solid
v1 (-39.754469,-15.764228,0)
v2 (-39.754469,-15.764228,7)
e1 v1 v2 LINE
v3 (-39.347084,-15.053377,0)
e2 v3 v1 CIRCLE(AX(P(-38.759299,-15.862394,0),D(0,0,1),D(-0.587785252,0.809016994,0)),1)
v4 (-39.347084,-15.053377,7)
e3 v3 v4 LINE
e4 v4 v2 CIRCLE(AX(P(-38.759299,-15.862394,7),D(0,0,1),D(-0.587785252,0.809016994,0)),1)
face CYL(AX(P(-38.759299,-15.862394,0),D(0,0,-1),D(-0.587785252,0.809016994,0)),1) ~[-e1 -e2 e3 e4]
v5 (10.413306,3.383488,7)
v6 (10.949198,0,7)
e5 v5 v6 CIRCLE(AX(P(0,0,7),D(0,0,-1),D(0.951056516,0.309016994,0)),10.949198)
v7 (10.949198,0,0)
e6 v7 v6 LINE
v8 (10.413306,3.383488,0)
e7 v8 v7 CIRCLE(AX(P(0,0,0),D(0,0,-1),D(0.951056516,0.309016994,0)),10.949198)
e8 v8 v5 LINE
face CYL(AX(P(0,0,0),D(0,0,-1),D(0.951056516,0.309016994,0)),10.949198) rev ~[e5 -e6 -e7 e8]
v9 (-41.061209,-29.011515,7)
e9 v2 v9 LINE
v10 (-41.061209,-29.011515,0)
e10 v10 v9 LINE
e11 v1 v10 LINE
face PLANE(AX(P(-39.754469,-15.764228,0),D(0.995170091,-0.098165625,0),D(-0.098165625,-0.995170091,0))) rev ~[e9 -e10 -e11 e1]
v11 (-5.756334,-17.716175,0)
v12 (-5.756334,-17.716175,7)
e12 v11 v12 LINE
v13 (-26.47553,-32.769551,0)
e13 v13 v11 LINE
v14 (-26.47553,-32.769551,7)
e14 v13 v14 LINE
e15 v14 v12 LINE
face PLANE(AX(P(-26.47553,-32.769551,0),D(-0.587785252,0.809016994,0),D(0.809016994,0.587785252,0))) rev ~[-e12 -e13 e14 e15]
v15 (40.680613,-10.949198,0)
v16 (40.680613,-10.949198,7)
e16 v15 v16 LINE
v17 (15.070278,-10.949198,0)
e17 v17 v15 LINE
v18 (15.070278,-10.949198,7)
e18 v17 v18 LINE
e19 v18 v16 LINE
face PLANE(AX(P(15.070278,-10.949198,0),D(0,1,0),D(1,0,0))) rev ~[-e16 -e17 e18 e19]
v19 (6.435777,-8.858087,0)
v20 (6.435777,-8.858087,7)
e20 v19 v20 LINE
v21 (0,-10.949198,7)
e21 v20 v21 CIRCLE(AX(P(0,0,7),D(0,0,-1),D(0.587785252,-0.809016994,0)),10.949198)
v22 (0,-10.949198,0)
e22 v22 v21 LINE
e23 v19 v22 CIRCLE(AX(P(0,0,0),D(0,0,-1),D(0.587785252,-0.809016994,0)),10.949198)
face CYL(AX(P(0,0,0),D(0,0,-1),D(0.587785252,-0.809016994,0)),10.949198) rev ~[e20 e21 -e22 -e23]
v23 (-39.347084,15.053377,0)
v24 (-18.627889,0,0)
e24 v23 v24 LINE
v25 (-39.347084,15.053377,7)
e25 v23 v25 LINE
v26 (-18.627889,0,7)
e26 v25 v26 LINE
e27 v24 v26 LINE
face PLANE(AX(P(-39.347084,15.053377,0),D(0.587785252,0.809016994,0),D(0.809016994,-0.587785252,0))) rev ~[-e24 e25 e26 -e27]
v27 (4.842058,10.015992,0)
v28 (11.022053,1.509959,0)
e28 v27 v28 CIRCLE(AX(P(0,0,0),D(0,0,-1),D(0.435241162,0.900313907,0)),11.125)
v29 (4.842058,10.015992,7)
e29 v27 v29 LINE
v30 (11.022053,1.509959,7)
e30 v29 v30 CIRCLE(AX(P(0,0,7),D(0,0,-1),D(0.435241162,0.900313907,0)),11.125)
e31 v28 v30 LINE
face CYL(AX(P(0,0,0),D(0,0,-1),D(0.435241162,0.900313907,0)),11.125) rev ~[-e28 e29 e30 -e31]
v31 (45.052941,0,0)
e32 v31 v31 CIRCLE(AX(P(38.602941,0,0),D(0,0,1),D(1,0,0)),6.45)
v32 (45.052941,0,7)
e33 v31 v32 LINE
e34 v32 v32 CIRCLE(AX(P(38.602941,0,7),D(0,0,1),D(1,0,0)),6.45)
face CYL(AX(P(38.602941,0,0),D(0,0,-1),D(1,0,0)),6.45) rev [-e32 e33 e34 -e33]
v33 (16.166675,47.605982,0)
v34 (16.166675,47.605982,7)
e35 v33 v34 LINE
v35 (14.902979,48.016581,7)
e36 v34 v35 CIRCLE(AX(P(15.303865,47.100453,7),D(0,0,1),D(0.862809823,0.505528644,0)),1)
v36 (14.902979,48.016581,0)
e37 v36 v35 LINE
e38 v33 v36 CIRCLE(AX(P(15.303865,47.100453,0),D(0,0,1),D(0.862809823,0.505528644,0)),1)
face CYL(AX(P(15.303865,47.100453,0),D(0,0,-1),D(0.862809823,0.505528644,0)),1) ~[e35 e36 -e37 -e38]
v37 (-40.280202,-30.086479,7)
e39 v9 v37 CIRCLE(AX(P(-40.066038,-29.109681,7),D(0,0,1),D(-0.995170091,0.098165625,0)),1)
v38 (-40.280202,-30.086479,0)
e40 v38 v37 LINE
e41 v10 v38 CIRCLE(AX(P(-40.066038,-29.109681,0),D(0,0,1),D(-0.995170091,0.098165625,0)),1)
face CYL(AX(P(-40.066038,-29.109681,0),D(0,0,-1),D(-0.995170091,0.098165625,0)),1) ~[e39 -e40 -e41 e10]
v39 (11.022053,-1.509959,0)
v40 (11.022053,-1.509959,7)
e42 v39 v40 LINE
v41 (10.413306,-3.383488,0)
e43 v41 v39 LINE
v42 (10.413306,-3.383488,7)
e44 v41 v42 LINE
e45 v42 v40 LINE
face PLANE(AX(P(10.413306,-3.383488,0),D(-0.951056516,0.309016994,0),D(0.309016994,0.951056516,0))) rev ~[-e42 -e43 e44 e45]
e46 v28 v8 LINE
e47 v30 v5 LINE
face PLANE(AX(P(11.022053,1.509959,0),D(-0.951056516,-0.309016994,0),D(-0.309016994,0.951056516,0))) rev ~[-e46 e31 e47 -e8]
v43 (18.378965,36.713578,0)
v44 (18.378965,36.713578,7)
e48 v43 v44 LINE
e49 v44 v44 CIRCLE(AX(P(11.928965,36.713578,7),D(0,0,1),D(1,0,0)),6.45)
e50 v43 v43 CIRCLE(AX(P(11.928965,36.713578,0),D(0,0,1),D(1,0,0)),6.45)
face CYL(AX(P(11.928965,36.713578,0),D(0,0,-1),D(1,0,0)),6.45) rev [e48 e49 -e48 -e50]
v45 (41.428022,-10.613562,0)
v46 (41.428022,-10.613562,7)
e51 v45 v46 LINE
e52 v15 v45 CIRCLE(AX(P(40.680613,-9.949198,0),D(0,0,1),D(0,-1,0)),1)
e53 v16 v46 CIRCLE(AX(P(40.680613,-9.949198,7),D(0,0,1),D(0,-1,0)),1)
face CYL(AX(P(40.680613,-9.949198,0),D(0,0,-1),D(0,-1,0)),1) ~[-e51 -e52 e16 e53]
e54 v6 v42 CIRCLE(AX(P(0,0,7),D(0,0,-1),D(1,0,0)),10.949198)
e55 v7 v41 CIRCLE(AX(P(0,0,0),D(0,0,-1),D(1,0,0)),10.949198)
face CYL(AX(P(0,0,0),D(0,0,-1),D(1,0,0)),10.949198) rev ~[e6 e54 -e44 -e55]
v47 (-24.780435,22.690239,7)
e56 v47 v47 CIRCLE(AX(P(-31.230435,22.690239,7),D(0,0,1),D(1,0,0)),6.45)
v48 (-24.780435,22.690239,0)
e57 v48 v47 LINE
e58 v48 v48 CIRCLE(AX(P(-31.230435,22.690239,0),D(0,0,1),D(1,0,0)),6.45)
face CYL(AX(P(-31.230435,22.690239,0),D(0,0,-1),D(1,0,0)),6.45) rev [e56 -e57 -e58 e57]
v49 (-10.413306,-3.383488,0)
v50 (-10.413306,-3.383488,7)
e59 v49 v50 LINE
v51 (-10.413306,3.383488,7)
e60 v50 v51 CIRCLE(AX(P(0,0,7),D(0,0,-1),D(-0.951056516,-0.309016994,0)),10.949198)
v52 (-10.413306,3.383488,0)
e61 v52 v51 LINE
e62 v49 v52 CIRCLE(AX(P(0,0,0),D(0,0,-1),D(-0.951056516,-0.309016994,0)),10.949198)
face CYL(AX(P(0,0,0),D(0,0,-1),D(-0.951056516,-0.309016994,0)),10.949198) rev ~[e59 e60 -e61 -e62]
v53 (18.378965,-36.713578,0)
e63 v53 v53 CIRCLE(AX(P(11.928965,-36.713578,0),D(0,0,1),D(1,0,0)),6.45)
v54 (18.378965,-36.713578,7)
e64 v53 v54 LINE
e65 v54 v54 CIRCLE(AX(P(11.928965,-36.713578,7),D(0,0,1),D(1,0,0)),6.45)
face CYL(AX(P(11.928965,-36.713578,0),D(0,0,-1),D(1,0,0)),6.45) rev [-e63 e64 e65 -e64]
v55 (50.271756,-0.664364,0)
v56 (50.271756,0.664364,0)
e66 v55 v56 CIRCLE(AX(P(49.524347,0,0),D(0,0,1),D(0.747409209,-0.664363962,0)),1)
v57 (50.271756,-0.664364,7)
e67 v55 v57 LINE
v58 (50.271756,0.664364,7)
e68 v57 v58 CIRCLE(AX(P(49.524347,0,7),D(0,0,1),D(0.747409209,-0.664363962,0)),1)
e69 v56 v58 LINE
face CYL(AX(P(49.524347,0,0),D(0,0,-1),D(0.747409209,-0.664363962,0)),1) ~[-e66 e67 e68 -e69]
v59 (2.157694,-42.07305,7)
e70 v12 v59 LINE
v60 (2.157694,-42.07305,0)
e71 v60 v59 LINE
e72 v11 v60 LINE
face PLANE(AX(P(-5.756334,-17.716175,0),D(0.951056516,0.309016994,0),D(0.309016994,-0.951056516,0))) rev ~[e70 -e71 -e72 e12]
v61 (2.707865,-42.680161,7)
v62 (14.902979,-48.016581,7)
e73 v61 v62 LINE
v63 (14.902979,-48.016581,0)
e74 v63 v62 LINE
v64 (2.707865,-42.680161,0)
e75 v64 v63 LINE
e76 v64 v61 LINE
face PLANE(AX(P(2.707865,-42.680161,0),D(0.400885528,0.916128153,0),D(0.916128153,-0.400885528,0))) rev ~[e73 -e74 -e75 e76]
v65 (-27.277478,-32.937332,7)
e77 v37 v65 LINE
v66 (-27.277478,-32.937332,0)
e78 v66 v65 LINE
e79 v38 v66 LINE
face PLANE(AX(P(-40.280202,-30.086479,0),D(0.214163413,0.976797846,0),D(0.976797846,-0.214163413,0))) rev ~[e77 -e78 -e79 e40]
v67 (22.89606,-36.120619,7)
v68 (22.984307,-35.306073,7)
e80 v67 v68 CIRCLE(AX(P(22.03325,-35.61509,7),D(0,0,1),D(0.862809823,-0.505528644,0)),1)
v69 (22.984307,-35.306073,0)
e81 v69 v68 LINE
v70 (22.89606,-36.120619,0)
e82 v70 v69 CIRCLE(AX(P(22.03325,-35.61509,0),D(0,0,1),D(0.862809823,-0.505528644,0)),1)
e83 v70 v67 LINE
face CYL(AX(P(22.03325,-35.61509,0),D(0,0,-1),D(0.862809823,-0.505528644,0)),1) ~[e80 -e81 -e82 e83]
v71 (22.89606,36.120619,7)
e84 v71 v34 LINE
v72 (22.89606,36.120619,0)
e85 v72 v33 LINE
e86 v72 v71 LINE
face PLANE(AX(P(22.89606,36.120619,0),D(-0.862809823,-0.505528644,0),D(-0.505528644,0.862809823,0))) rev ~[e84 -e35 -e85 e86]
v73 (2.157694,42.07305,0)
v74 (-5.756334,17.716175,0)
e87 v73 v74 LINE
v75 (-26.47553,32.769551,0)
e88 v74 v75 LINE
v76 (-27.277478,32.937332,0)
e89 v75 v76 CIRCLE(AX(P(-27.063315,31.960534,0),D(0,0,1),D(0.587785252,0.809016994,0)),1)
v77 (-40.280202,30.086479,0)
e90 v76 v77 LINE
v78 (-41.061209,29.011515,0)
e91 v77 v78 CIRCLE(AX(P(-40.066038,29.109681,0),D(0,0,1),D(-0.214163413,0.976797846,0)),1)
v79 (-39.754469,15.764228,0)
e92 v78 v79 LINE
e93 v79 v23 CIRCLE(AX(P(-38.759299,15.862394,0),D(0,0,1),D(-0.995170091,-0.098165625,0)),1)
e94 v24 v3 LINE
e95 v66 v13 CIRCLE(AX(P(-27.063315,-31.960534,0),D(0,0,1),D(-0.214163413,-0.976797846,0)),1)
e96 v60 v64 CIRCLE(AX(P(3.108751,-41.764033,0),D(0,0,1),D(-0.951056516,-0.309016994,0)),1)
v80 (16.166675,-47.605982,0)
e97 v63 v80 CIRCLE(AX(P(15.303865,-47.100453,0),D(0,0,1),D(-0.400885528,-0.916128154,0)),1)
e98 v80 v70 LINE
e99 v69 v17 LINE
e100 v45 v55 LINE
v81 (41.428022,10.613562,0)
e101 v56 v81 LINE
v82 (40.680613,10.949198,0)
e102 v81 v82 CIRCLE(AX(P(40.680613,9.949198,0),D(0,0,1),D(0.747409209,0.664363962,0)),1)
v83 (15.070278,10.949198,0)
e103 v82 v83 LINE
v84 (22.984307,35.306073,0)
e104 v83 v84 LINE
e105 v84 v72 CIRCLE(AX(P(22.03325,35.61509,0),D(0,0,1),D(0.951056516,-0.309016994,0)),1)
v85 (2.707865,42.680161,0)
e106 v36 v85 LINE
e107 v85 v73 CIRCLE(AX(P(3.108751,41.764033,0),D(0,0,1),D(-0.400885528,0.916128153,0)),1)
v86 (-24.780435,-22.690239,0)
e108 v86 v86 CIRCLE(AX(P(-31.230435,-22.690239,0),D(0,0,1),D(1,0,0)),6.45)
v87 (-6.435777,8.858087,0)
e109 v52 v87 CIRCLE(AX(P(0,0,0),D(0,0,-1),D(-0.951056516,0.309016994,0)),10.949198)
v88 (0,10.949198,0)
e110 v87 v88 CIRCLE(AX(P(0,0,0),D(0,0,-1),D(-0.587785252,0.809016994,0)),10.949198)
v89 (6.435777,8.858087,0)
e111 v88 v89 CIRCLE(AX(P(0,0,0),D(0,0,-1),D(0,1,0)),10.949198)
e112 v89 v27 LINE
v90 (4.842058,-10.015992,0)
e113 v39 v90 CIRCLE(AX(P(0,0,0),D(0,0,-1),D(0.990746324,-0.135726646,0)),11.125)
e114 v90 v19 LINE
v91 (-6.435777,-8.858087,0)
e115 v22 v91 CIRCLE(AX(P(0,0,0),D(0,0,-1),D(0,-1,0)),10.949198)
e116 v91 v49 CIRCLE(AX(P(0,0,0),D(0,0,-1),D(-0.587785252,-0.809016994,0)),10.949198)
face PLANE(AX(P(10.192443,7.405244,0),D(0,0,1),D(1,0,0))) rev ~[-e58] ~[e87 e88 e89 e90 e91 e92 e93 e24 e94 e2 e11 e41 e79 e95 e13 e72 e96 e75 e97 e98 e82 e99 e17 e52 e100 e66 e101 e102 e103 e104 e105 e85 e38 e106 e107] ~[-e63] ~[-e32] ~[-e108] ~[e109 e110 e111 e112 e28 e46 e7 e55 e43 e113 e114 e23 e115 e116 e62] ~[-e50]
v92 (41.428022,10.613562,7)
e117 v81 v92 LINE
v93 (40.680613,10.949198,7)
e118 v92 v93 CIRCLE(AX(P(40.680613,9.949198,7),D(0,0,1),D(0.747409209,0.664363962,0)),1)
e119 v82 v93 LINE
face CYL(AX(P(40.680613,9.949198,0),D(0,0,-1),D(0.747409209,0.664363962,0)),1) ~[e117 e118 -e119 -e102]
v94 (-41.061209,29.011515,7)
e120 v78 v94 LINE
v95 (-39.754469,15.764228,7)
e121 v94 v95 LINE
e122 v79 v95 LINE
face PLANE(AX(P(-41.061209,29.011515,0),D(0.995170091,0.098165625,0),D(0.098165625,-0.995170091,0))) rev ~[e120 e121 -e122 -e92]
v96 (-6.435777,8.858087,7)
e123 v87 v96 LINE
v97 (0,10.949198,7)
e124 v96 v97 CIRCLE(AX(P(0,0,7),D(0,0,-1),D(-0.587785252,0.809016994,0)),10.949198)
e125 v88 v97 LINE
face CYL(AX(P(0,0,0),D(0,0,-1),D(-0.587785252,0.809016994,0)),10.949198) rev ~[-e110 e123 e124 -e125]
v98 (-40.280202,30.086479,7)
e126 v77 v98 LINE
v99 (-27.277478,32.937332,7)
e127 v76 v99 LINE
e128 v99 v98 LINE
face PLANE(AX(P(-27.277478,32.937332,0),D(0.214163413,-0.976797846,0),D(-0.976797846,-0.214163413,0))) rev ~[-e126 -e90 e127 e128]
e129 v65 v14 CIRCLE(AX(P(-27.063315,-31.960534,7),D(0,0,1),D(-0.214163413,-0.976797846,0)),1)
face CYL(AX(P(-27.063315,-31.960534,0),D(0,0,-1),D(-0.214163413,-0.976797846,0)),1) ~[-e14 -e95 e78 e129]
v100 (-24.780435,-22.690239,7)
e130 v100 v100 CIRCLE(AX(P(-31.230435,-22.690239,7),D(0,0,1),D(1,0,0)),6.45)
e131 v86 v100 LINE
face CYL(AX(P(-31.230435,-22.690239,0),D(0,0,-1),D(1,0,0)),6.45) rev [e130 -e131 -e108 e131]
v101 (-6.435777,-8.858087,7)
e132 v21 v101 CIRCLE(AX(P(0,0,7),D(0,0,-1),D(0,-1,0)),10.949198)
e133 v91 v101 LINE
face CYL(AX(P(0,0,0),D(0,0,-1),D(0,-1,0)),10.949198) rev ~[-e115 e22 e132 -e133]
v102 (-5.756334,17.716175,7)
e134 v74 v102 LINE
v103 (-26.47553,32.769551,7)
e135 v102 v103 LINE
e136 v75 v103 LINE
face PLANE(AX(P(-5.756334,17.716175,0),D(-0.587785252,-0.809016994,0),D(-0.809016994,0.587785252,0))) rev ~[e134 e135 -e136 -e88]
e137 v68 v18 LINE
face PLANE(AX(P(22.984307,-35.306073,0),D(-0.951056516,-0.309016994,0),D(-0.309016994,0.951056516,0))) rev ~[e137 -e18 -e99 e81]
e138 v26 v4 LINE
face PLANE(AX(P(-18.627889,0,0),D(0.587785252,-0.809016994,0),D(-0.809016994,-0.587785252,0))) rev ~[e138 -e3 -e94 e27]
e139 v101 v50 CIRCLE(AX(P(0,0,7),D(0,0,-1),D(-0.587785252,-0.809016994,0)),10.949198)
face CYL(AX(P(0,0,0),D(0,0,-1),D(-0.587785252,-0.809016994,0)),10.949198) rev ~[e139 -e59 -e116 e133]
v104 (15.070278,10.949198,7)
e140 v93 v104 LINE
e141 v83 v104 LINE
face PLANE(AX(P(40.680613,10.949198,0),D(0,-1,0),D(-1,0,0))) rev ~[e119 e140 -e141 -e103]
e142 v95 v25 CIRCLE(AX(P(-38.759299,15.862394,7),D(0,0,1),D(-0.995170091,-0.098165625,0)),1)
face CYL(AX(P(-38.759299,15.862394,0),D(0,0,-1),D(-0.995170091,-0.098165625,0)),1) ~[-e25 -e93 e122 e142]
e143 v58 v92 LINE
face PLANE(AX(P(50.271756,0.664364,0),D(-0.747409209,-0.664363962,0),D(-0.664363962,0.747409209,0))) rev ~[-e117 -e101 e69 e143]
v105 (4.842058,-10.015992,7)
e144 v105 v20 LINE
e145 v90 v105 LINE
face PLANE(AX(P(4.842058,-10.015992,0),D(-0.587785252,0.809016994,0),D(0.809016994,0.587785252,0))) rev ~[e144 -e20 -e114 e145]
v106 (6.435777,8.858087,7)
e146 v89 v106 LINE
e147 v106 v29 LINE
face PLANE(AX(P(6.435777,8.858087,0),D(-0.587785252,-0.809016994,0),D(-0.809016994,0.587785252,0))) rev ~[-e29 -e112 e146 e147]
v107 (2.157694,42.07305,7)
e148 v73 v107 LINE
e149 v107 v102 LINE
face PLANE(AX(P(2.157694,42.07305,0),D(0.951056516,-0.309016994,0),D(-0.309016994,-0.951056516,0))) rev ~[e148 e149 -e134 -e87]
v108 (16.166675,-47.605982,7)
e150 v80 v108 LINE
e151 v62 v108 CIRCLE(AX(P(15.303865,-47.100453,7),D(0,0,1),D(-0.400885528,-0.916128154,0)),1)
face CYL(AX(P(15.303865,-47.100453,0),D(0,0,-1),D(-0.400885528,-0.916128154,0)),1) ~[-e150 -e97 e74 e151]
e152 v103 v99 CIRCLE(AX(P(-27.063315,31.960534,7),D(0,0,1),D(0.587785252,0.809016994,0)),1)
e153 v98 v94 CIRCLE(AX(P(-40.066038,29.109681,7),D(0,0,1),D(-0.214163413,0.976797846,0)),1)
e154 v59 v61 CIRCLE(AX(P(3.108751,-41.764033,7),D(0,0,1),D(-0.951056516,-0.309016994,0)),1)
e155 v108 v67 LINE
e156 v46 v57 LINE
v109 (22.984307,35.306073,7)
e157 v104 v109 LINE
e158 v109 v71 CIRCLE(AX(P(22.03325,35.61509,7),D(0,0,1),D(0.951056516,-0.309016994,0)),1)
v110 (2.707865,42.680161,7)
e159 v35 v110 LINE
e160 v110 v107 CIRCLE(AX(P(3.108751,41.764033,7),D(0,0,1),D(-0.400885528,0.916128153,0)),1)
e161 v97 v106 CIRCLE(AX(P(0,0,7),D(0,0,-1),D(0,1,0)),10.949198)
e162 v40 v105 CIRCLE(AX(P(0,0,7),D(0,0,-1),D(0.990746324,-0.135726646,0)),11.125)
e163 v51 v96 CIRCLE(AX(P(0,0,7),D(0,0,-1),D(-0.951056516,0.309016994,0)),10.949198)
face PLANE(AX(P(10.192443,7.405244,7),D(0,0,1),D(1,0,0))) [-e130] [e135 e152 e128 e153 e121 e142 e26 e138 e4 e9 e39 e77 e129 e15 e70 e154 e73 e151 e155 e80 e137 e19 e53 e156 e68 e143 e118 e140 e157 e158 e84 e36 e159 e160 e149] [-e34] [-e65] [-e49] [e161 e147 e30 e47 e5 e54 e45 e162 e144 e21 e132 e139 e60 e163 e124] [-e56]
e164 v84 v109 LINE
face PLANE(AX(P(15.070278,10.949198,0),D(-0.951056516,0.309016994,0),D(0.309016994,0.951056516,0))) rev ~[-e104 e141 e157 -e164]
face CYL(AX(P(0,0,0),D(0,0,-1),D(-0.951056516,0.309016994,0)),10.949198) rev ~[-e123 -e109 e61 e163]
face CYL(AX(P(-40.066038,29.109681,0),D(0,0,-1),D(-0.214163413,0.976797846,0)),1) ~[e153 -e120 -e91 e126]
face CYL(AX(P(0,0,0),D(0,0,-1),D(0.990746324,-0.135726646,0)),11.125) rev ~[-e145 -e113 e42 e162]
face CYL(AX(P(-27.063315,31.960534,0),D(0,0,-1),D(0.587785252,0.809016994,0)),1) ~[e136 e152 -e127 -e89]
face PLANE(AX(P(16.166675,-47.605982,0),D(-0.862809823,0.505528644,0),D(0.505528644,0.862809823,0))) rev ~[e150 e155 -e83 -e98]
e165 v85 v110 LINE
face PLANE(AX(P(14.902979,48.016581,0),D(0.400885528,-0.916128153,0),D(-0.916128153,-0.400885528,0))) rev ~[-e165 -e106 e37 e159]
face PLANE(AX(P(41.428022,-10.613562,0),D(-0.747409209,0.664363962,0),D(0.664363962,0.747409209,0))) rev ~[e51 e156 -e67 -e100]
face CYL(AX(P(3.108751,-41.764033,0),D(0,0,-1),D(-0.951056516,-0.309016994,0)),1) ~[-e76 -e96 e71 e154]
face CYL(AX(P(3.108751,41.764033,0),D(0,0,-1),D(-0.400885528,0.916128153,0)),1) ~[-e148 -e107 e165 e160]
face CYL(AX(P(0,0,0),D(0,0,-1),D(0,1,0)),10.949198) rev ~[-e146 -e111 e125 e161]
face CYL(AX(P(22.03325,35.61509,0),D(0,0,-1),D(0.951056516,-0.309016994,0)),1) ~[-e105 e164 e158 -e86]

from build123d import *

# Parameters (mm, degrees)
F0_R     = 6.45
F1_DEPTH = 7


with BuildPart() as f1:
    # F0 (on Top) → F1 (new body)
    with BuildSketch(Plane.XY):
        with BuildLine():
            ThreePointArc((4.8420579254, 10.0159922148), (9.0003140624, 6.5391109318), (11.0220528498, 1.5099589323))
            Line((11.0220528498, 1.5099589323), (11.5126682474, 0))
            Line((11.5126682474, 0), (15.0702783864, 10.9491981566))
            Line((15.0702783864, 10.9491981566), (3.557610139, 10.9491981566))
            Line((3.557610139, 10.9491981566), (4.8420579254, 10.0159922148))
        make_face()
        with BuildLine():
            Line((15.0702783864, 10.9491981566), (11.5126682474, 0))
            Line((11.5126682474, 0), (15.0702783864, -10.9491981566))
            Line((15.0702783864, -10.9491981566), (40.6806125224, -10.9491981566))
            ThreePointArc((40.6806125224, -10.9491981566), (41.0902684989, -10.8614382461), (41.4280217317, -10.6135621185))
            Line((41.4280217317, -10.6135621185), (50.2717563602, -0.6643639619))
            ThreePointArc((50.2717563602, -0.6643639619), (50.5243471509, 0), (50.2717563602, 0.6643639619))
            Line((50.2717563602, 0.6643639619), (41.4280217317, 10.6135621185))
            ThreePointArc((41.4280217317, 10.6135621185), (41.0902684989, 10.8614382461), (40.6806125224, 10.9491981566))
            Line((40.6806125224, 10.9491981566), (15.0702783864, 10.9491981566))
        make_face()
        with Locations((38.6029407382, 0)):
            Circle(F0_R, mode=Mode.SUBTRACT)
        with BuildLine():
            Line((-26.4755296714, -32.7695514784), (-5.7563341237, -17.7161747669))
            Line((-5.7563341237, -17.7161747669), (-9.3139442627, -6.7669766103))
            Line((-9.3139442627, -6.7669766103), (-18.6278885254, 0))
            Line((-18.6278885254, 0), (-39.3470840731, -15.0533767114))
            ThreePointArc((-39.3470840731, -15.0533767114), (-39.6269187388, -15.3651657119), (-39.7544689118, -15.7642280808))
            Line((-39.7544689118, -15.7642280808), (-41.0612085714, -29.0115152597))
            ThreePointArc((-41.0612085714, -29.0115152597), (-40.8750554748, -29.697466137), (-40.2802018935, -30.086478731))
            Line((-40.2802018935, -30.086478731), (-27.2774783367, -32.9373323303))
            ThreePointArc((-27.2774783367, -32.9373323303), (-26.8585322992, -32.9393419609), (-26.4755296714, -32.7695514784))
        make_face()
        with Locations((-31.2304350901, -22.690239261)):
            Circle(F0_R, mode=Mode.SUBTRACT)
        with BuildLine():
            Line((-5.7563341237, 17.7161747669), (3.557610139, 10.9491981566))
            Line((3.557610139, 10.9491981566), (15.0702783864, 10.9491981566))
            Line((15.0702783864, 10.9491981566), (22.9843068661, 35.3060733212))
            ThreePointArc((22.9843068661, 35.3060733212), (23.0274328899, 35.7227986108), (22.8960601724, 36.1206189597))
            Line((22.8960601724, 36.1206189597), (16.1666747276, 47.6059817172))
            ThreePointArc((16.1666747276, 47.6059817172), (15.6128818993, 48.0515095894), (14.9029793772, 48.0165812266))
            Line((14.9029793772, 48.0165812266), (2.7078653445, 42.6801610906))
            ThreePointArc((2.7078653445, 42.6801610906), (2.3677496493, 42.4355366136), (2.157694356, 42.0730499315))
            Line((2.157694356, 42.0730499315), (-5.7563341237, 17.7161747669))
        make_face()
        with Locations((11.928964721, 36.7135783372)):
            Circle(F0_R, mode=Mode.SUBTRACT)
        with BuildLine():
            ThreePointArc((1.9699453616, 10.9491981566), (3.4378140624, 10.5805037438), (4.8420579254, 10.0159922148))
            Line((4.8420579254, 10.0159922148), (3.557610139, 10.9491981566))
            Line((3.557610139, 10.9491981566), (1.9699453616, 10.9491981566))
        make_face()
        with BuildLine():
            ThreePointArc((-8.0294964764, 7.7001825521), (-3.4378140624, 10.5805037438), (1.9699453616, 10.9491981566))
            Line((1.9699453616, 10.9491981566), (3.557610139, 10.9491981566))
            Line((3.557610139, 10.9491981566), (-5.7563341237, 17.7161747669))
            Line((-5.7563341237, 17.7161747669), (-9.3139442627, 6.7669766103))
            Line((-9.3139442627, 6.7669766103), (-8.0294964764, 7.7001825521))
        make_face()
        with BuildLine():
            ThreePointArc((-9.8045596603, 5.257017678), (-9.0003140624, 6.5391109318), (-8.0294964764, 7.7001825521))
            Line((-8.0294964764, 7.7001825521), (-9.3139442627, 6.7669766103))
            Line((-9.3139442627, 6.7669766103), (-9.8045596603, 5.257017678))
        make_face()
        with BuildLine():
            ThreePointArc((-9.8045596603, -5.257017678), (-11.125, 0), (-9.8045596603, 5.257017678))
            Line((-9.8045596603, 5.257017678), (-9.3139442627, 6.7669766103))
            Line((-9.3139442627, 6.7669766103), (-18.6278885254, 0))
            Line((-18.6278885254, 0), (-9.3139442627, -6.7669766103))
            Line((-9.3139442627, -6.7669766103), (-9.8045596603, -5.257017678))
        make_face()
        with BuildLine():
            Line((-9.3139442627, -6.7669766103), (-8.0294964764, -7.7001825521))
            ThreePointArc((-8.0294964764, -7.7001825521), (-9.0003140624, -6.5391109318), (-9.8045596603, -5.257017678))
            Line((-9.8045596603, -5.257017678), (-9.3139442627, -6.7669766103))
        make_face()
        with BuildLine():
            Line((3.557610139, -10.9491981566), (1.9699453616, -10.9491981566))
            ThreePointArc((1.9699453616, -10.9491981566), (-3.4378140624, -10.5805037438), (-8.0294964764, -7.7001825521))
            Line((-8.0294964764, -7.7001825521), (-9.3139442627, -6.7669766103))
            Line((-9.3139442627, -6.7669766103), (-5.7563341237, -17.7161747669))
            Line((-5.7563341237, -17.7161747669), (3.557610139, -10.9491981566))
        make_face()
        with BuildLine():
            Line((3.557610139, -10.9491981566), (4.8420579254, -10.0159922148))
            ThreePointArc((4.8420579254, -10.0159922148), (3.4378140624, -10.5805037438), (1.9699453616, -10.9491981566))
            Line((1.9699453616, -10.9491981566), (3.557610139, -10.9491981566))
        make_face()
        with BuildLine():
            Line((11.5126682474, 0), (11.0220528498, -1.5099589323))
            ThreePointArc((11.0220528498, -1.5099589323), (9.0003140624, -6.5391109318), (4.8420579254, -10.0159922148))
            Line((4.8420579254, -10.0159922148), (3.557610139, -10.9491981566))
            Line((3.557610139, -10.9491981566), (15.0702783864, -10.9491981566))
            Line((15.0702783864, -10.9491981566), (11.5126682474, 0))
        make_face()
        with BuildLine():
            ThreePointArc((11.0220528498, 1.5099589323), (11.0992333734, 0.7567321344), (11.125, 0))
            ThreePointArc((11.125, 0), (11.0992333734, -0.7567321344), (11.0220528498, -1.5099589323))
            Line((11.0220528498, -1.5099589323), (11.5126682474, 0))
            Line((11.5126682474, 0), (11.0220528498, 1.5099589323))
        make_face()
        with BuildLine():
            Line((0, 10.9491981566), (1.9699453616, 10.9491981566))
            ThreePointArc((1.9699453616, 10.9491981566), (-3.4378140624, 10.5805037438), (-8.0294964764, 7.7001825521))
            Line((-8.0294964764, 7.7001825521), (-6.4357772009, 8.8580873835))
            ThreePointArc((-6.4357772009, 8.8580873835), (-3.3834883052, 10.413306255), (0, 10.9491981566))
        make_face()
        with BuildLine():
            ThreePointArc((-8.0294964764, -7.7001825521), (-3.4378140624, -10.5805037438), (1.9699453616, -10.9491981566))
            Line((1.9699453616, -10.9491981566), (0, -10.9491981566))
            ThreePointArc((0, -10.9491981566), (-3.3834883052, -10.413306255), (-6.4357772009, -8.8580873835))
            Line((-6.4357772009, -8.8580873835), (-8.0294964764, -7.7001825521))
        make_face()
        with BuildLine():
            Line((22.9843068661, -35.3060733212), (15.0702783864, -10.9491981566))
            Line((15.0702783864, -10.9491981566), (3.557610139, -10.9491981566))
            Line((3.557610139, -10.9491981566), (-5.7563341237, -17.7161747669))
            Line((-5.7563341237, -17.7161747669), (2.157694356, -42.0730499315))
            ThreePointArc((2.157694356, -42.0730499315), (2.3677496493, -42.4355366136), (2.7078653445, -42.6801610906))
            Line((2.7078653445, -42.6801610906), (14.9029793772, -48.0165812266))
            ThreePointArc((14.9029793772, -48.0165812266), (15.6128818993, -48.0515095894), (16.1666747276, -47.6059817172))
            Line((16.1666747276, -47.6059817172), (22.8960601724, -36.1206189597))
            ThreePointArc((22.8960601724, -36.1206189597), (23.0274328899, -35.7227986108), (22.9843068661, -35.3060733212))
        make_face()
        with Locations((11.928964721, -36.7135783372)):
            Circle(F0_R, mode=Mode.SUBTRACT)
        with BuildLine():
            Line((-9.3139442627, 6.7669766103), (-5.7563341237, 17.7161747669))
            Line((-5.7563341237, 17.7161747669), (-26.4755296714, 32.7695514784))
            ThreePointArc((-26.4755296714, 32.7695514784), (-26.8585322992, 32.9393419609), (-27.2774783367, 32.9373323303))
            Line((-27.2774783367, 32.9373323303), (-40.2802018935, 30.086478731))
            ThreePointArc((-40.2802018935, 30.086478731), (-40.8750554748, 29.697466137), (-41.0612085714, 29.0115152597))
            Line((-41.0612085714, 29.0115152597), (-39.7544689118, 15.7642280808))
            ThreePointArc((-39.7544689118, 15.7642280808), (-39.6269187388, 15.3651657119), (-39.3470840731, 15.0533767114))
            Line((-39.3470840731, 15.0533767114), (-18.6278885254, 0))
            Line((-18.6278885254, 0), (-9.3139442627, 6.7669766103))
        make_face()
        with Locations((-31.2304350901, 22.690239261)):
            Circle(F0_R, mode=Mode.SUBTRACT)
        with BuildLine():
            Line((-10.413306255, 3.3834883052), (-9.8045596603, 5.257017678))
            ThreePointArc((-9.8045596603, 5.257017678), (-11.125, 0), (-9.8045596603, -5.257017678))
            Line((-9.8045596603, -5.257017678), (-10.413306255, -3.3834883052))
            ThreePointArc((-10.413306255, -3.3834883052), (-10.9491981566, 0), (-10.413306255, 3.3834883052))
        make_face()
        with BuildLine():
            Line((-6.4357772009, 8.8580873835), (-8.0294964764, 7.7001825521))
            ThreePointArc((-8.0294964764, 7.7001825521), (-9.0003140624, 6.5391109318), (-9.8045596603, 5.257017678))
            Line((-9.8045596603, 5.257017678), (-10.413306255, 3.3834883052))
            ThreePointArc((-10.413306255, 3.3834883052), (-8.8580873835, 6.4357772009), (-6.4357772009, 8.8580873835))
        make_face()
        with BuildLine():
            ThreePointArc((11.0220528498, -1.5099589323), (11.0992333734, -0.7567321344), (11.125, 0))
            ThreePointArc((11.125, 0), (11.0992333734, 0.7567321344), (11.0220528498, 1.5099589323))
            Line((11.0220528498, 1.5099589323), (10.413306255, 3.3834883052))
            ThreePointArc((10.413306255, 3.3834883052), (10.8143953581, 1.7128319562), (10.9491981566, 0))
            ThreePointArc((10.9491981566, 0), (10.8143953581, -1.7128319562), (10.413306255, -3.3834883052))
            Line((10.413306255, -3.3834883052), (11.0220528498, -1.5099589323))
        make_face()
        with BuildLine():
            ThreePointArc((1.9699453616, -10.9491981566), (3.4378140624, -10.5805037438), (4.8420579254, -10.0159922148))
            Line((4.8420579254, -10.0159922148), (6.4357772009, -8.8580873835))
            ThreePointArc((6.4357772009, -8.8580873835), (3.3834883052, -10.413306255), (0, -10.9491981566))
            Line((0, -10.9491981566), (1.9699453616, -10.9491981566))
        make_face()
        with BuildLine():
            ThreePointArc((-9.8045596603, -5.257017678), (-9.0003140624, -6.5391109318), (-8.0294964764, -7.7001825521))
            Line((-8.0294964764, -7.7001825521), (-6.4357772009, -8.8580873835))
            ThreePointArc((-6.4357772009, -8.8580873835), (-8.8580873835, -6.4357772009), (-10.413306255, -3.3834883052))
            Line((-10.413306255, -3.3834883052), (-9.8045596603, -5.257017678))
        make_face()
        with BuildLine():
            Line((6.4357772009, 8.8580873835), (4.8420579254, 10.0159922148))
            ThreePointArc((4.8420579254, 10.0159922148), (3.4378140624, 10.5805037438), (1.9699453616, 10.9491981566))
            Line((1.9699453616, 10.9491981566), (0, 10.9491981566))
            ThreePointArc((0, 10.9491981566), (3.3834883052, 10.413306255), (6.4357772009, 8.8580873835))
        make_face()
    extrude(amount=F1_DEPTH)


solid = f1.part
